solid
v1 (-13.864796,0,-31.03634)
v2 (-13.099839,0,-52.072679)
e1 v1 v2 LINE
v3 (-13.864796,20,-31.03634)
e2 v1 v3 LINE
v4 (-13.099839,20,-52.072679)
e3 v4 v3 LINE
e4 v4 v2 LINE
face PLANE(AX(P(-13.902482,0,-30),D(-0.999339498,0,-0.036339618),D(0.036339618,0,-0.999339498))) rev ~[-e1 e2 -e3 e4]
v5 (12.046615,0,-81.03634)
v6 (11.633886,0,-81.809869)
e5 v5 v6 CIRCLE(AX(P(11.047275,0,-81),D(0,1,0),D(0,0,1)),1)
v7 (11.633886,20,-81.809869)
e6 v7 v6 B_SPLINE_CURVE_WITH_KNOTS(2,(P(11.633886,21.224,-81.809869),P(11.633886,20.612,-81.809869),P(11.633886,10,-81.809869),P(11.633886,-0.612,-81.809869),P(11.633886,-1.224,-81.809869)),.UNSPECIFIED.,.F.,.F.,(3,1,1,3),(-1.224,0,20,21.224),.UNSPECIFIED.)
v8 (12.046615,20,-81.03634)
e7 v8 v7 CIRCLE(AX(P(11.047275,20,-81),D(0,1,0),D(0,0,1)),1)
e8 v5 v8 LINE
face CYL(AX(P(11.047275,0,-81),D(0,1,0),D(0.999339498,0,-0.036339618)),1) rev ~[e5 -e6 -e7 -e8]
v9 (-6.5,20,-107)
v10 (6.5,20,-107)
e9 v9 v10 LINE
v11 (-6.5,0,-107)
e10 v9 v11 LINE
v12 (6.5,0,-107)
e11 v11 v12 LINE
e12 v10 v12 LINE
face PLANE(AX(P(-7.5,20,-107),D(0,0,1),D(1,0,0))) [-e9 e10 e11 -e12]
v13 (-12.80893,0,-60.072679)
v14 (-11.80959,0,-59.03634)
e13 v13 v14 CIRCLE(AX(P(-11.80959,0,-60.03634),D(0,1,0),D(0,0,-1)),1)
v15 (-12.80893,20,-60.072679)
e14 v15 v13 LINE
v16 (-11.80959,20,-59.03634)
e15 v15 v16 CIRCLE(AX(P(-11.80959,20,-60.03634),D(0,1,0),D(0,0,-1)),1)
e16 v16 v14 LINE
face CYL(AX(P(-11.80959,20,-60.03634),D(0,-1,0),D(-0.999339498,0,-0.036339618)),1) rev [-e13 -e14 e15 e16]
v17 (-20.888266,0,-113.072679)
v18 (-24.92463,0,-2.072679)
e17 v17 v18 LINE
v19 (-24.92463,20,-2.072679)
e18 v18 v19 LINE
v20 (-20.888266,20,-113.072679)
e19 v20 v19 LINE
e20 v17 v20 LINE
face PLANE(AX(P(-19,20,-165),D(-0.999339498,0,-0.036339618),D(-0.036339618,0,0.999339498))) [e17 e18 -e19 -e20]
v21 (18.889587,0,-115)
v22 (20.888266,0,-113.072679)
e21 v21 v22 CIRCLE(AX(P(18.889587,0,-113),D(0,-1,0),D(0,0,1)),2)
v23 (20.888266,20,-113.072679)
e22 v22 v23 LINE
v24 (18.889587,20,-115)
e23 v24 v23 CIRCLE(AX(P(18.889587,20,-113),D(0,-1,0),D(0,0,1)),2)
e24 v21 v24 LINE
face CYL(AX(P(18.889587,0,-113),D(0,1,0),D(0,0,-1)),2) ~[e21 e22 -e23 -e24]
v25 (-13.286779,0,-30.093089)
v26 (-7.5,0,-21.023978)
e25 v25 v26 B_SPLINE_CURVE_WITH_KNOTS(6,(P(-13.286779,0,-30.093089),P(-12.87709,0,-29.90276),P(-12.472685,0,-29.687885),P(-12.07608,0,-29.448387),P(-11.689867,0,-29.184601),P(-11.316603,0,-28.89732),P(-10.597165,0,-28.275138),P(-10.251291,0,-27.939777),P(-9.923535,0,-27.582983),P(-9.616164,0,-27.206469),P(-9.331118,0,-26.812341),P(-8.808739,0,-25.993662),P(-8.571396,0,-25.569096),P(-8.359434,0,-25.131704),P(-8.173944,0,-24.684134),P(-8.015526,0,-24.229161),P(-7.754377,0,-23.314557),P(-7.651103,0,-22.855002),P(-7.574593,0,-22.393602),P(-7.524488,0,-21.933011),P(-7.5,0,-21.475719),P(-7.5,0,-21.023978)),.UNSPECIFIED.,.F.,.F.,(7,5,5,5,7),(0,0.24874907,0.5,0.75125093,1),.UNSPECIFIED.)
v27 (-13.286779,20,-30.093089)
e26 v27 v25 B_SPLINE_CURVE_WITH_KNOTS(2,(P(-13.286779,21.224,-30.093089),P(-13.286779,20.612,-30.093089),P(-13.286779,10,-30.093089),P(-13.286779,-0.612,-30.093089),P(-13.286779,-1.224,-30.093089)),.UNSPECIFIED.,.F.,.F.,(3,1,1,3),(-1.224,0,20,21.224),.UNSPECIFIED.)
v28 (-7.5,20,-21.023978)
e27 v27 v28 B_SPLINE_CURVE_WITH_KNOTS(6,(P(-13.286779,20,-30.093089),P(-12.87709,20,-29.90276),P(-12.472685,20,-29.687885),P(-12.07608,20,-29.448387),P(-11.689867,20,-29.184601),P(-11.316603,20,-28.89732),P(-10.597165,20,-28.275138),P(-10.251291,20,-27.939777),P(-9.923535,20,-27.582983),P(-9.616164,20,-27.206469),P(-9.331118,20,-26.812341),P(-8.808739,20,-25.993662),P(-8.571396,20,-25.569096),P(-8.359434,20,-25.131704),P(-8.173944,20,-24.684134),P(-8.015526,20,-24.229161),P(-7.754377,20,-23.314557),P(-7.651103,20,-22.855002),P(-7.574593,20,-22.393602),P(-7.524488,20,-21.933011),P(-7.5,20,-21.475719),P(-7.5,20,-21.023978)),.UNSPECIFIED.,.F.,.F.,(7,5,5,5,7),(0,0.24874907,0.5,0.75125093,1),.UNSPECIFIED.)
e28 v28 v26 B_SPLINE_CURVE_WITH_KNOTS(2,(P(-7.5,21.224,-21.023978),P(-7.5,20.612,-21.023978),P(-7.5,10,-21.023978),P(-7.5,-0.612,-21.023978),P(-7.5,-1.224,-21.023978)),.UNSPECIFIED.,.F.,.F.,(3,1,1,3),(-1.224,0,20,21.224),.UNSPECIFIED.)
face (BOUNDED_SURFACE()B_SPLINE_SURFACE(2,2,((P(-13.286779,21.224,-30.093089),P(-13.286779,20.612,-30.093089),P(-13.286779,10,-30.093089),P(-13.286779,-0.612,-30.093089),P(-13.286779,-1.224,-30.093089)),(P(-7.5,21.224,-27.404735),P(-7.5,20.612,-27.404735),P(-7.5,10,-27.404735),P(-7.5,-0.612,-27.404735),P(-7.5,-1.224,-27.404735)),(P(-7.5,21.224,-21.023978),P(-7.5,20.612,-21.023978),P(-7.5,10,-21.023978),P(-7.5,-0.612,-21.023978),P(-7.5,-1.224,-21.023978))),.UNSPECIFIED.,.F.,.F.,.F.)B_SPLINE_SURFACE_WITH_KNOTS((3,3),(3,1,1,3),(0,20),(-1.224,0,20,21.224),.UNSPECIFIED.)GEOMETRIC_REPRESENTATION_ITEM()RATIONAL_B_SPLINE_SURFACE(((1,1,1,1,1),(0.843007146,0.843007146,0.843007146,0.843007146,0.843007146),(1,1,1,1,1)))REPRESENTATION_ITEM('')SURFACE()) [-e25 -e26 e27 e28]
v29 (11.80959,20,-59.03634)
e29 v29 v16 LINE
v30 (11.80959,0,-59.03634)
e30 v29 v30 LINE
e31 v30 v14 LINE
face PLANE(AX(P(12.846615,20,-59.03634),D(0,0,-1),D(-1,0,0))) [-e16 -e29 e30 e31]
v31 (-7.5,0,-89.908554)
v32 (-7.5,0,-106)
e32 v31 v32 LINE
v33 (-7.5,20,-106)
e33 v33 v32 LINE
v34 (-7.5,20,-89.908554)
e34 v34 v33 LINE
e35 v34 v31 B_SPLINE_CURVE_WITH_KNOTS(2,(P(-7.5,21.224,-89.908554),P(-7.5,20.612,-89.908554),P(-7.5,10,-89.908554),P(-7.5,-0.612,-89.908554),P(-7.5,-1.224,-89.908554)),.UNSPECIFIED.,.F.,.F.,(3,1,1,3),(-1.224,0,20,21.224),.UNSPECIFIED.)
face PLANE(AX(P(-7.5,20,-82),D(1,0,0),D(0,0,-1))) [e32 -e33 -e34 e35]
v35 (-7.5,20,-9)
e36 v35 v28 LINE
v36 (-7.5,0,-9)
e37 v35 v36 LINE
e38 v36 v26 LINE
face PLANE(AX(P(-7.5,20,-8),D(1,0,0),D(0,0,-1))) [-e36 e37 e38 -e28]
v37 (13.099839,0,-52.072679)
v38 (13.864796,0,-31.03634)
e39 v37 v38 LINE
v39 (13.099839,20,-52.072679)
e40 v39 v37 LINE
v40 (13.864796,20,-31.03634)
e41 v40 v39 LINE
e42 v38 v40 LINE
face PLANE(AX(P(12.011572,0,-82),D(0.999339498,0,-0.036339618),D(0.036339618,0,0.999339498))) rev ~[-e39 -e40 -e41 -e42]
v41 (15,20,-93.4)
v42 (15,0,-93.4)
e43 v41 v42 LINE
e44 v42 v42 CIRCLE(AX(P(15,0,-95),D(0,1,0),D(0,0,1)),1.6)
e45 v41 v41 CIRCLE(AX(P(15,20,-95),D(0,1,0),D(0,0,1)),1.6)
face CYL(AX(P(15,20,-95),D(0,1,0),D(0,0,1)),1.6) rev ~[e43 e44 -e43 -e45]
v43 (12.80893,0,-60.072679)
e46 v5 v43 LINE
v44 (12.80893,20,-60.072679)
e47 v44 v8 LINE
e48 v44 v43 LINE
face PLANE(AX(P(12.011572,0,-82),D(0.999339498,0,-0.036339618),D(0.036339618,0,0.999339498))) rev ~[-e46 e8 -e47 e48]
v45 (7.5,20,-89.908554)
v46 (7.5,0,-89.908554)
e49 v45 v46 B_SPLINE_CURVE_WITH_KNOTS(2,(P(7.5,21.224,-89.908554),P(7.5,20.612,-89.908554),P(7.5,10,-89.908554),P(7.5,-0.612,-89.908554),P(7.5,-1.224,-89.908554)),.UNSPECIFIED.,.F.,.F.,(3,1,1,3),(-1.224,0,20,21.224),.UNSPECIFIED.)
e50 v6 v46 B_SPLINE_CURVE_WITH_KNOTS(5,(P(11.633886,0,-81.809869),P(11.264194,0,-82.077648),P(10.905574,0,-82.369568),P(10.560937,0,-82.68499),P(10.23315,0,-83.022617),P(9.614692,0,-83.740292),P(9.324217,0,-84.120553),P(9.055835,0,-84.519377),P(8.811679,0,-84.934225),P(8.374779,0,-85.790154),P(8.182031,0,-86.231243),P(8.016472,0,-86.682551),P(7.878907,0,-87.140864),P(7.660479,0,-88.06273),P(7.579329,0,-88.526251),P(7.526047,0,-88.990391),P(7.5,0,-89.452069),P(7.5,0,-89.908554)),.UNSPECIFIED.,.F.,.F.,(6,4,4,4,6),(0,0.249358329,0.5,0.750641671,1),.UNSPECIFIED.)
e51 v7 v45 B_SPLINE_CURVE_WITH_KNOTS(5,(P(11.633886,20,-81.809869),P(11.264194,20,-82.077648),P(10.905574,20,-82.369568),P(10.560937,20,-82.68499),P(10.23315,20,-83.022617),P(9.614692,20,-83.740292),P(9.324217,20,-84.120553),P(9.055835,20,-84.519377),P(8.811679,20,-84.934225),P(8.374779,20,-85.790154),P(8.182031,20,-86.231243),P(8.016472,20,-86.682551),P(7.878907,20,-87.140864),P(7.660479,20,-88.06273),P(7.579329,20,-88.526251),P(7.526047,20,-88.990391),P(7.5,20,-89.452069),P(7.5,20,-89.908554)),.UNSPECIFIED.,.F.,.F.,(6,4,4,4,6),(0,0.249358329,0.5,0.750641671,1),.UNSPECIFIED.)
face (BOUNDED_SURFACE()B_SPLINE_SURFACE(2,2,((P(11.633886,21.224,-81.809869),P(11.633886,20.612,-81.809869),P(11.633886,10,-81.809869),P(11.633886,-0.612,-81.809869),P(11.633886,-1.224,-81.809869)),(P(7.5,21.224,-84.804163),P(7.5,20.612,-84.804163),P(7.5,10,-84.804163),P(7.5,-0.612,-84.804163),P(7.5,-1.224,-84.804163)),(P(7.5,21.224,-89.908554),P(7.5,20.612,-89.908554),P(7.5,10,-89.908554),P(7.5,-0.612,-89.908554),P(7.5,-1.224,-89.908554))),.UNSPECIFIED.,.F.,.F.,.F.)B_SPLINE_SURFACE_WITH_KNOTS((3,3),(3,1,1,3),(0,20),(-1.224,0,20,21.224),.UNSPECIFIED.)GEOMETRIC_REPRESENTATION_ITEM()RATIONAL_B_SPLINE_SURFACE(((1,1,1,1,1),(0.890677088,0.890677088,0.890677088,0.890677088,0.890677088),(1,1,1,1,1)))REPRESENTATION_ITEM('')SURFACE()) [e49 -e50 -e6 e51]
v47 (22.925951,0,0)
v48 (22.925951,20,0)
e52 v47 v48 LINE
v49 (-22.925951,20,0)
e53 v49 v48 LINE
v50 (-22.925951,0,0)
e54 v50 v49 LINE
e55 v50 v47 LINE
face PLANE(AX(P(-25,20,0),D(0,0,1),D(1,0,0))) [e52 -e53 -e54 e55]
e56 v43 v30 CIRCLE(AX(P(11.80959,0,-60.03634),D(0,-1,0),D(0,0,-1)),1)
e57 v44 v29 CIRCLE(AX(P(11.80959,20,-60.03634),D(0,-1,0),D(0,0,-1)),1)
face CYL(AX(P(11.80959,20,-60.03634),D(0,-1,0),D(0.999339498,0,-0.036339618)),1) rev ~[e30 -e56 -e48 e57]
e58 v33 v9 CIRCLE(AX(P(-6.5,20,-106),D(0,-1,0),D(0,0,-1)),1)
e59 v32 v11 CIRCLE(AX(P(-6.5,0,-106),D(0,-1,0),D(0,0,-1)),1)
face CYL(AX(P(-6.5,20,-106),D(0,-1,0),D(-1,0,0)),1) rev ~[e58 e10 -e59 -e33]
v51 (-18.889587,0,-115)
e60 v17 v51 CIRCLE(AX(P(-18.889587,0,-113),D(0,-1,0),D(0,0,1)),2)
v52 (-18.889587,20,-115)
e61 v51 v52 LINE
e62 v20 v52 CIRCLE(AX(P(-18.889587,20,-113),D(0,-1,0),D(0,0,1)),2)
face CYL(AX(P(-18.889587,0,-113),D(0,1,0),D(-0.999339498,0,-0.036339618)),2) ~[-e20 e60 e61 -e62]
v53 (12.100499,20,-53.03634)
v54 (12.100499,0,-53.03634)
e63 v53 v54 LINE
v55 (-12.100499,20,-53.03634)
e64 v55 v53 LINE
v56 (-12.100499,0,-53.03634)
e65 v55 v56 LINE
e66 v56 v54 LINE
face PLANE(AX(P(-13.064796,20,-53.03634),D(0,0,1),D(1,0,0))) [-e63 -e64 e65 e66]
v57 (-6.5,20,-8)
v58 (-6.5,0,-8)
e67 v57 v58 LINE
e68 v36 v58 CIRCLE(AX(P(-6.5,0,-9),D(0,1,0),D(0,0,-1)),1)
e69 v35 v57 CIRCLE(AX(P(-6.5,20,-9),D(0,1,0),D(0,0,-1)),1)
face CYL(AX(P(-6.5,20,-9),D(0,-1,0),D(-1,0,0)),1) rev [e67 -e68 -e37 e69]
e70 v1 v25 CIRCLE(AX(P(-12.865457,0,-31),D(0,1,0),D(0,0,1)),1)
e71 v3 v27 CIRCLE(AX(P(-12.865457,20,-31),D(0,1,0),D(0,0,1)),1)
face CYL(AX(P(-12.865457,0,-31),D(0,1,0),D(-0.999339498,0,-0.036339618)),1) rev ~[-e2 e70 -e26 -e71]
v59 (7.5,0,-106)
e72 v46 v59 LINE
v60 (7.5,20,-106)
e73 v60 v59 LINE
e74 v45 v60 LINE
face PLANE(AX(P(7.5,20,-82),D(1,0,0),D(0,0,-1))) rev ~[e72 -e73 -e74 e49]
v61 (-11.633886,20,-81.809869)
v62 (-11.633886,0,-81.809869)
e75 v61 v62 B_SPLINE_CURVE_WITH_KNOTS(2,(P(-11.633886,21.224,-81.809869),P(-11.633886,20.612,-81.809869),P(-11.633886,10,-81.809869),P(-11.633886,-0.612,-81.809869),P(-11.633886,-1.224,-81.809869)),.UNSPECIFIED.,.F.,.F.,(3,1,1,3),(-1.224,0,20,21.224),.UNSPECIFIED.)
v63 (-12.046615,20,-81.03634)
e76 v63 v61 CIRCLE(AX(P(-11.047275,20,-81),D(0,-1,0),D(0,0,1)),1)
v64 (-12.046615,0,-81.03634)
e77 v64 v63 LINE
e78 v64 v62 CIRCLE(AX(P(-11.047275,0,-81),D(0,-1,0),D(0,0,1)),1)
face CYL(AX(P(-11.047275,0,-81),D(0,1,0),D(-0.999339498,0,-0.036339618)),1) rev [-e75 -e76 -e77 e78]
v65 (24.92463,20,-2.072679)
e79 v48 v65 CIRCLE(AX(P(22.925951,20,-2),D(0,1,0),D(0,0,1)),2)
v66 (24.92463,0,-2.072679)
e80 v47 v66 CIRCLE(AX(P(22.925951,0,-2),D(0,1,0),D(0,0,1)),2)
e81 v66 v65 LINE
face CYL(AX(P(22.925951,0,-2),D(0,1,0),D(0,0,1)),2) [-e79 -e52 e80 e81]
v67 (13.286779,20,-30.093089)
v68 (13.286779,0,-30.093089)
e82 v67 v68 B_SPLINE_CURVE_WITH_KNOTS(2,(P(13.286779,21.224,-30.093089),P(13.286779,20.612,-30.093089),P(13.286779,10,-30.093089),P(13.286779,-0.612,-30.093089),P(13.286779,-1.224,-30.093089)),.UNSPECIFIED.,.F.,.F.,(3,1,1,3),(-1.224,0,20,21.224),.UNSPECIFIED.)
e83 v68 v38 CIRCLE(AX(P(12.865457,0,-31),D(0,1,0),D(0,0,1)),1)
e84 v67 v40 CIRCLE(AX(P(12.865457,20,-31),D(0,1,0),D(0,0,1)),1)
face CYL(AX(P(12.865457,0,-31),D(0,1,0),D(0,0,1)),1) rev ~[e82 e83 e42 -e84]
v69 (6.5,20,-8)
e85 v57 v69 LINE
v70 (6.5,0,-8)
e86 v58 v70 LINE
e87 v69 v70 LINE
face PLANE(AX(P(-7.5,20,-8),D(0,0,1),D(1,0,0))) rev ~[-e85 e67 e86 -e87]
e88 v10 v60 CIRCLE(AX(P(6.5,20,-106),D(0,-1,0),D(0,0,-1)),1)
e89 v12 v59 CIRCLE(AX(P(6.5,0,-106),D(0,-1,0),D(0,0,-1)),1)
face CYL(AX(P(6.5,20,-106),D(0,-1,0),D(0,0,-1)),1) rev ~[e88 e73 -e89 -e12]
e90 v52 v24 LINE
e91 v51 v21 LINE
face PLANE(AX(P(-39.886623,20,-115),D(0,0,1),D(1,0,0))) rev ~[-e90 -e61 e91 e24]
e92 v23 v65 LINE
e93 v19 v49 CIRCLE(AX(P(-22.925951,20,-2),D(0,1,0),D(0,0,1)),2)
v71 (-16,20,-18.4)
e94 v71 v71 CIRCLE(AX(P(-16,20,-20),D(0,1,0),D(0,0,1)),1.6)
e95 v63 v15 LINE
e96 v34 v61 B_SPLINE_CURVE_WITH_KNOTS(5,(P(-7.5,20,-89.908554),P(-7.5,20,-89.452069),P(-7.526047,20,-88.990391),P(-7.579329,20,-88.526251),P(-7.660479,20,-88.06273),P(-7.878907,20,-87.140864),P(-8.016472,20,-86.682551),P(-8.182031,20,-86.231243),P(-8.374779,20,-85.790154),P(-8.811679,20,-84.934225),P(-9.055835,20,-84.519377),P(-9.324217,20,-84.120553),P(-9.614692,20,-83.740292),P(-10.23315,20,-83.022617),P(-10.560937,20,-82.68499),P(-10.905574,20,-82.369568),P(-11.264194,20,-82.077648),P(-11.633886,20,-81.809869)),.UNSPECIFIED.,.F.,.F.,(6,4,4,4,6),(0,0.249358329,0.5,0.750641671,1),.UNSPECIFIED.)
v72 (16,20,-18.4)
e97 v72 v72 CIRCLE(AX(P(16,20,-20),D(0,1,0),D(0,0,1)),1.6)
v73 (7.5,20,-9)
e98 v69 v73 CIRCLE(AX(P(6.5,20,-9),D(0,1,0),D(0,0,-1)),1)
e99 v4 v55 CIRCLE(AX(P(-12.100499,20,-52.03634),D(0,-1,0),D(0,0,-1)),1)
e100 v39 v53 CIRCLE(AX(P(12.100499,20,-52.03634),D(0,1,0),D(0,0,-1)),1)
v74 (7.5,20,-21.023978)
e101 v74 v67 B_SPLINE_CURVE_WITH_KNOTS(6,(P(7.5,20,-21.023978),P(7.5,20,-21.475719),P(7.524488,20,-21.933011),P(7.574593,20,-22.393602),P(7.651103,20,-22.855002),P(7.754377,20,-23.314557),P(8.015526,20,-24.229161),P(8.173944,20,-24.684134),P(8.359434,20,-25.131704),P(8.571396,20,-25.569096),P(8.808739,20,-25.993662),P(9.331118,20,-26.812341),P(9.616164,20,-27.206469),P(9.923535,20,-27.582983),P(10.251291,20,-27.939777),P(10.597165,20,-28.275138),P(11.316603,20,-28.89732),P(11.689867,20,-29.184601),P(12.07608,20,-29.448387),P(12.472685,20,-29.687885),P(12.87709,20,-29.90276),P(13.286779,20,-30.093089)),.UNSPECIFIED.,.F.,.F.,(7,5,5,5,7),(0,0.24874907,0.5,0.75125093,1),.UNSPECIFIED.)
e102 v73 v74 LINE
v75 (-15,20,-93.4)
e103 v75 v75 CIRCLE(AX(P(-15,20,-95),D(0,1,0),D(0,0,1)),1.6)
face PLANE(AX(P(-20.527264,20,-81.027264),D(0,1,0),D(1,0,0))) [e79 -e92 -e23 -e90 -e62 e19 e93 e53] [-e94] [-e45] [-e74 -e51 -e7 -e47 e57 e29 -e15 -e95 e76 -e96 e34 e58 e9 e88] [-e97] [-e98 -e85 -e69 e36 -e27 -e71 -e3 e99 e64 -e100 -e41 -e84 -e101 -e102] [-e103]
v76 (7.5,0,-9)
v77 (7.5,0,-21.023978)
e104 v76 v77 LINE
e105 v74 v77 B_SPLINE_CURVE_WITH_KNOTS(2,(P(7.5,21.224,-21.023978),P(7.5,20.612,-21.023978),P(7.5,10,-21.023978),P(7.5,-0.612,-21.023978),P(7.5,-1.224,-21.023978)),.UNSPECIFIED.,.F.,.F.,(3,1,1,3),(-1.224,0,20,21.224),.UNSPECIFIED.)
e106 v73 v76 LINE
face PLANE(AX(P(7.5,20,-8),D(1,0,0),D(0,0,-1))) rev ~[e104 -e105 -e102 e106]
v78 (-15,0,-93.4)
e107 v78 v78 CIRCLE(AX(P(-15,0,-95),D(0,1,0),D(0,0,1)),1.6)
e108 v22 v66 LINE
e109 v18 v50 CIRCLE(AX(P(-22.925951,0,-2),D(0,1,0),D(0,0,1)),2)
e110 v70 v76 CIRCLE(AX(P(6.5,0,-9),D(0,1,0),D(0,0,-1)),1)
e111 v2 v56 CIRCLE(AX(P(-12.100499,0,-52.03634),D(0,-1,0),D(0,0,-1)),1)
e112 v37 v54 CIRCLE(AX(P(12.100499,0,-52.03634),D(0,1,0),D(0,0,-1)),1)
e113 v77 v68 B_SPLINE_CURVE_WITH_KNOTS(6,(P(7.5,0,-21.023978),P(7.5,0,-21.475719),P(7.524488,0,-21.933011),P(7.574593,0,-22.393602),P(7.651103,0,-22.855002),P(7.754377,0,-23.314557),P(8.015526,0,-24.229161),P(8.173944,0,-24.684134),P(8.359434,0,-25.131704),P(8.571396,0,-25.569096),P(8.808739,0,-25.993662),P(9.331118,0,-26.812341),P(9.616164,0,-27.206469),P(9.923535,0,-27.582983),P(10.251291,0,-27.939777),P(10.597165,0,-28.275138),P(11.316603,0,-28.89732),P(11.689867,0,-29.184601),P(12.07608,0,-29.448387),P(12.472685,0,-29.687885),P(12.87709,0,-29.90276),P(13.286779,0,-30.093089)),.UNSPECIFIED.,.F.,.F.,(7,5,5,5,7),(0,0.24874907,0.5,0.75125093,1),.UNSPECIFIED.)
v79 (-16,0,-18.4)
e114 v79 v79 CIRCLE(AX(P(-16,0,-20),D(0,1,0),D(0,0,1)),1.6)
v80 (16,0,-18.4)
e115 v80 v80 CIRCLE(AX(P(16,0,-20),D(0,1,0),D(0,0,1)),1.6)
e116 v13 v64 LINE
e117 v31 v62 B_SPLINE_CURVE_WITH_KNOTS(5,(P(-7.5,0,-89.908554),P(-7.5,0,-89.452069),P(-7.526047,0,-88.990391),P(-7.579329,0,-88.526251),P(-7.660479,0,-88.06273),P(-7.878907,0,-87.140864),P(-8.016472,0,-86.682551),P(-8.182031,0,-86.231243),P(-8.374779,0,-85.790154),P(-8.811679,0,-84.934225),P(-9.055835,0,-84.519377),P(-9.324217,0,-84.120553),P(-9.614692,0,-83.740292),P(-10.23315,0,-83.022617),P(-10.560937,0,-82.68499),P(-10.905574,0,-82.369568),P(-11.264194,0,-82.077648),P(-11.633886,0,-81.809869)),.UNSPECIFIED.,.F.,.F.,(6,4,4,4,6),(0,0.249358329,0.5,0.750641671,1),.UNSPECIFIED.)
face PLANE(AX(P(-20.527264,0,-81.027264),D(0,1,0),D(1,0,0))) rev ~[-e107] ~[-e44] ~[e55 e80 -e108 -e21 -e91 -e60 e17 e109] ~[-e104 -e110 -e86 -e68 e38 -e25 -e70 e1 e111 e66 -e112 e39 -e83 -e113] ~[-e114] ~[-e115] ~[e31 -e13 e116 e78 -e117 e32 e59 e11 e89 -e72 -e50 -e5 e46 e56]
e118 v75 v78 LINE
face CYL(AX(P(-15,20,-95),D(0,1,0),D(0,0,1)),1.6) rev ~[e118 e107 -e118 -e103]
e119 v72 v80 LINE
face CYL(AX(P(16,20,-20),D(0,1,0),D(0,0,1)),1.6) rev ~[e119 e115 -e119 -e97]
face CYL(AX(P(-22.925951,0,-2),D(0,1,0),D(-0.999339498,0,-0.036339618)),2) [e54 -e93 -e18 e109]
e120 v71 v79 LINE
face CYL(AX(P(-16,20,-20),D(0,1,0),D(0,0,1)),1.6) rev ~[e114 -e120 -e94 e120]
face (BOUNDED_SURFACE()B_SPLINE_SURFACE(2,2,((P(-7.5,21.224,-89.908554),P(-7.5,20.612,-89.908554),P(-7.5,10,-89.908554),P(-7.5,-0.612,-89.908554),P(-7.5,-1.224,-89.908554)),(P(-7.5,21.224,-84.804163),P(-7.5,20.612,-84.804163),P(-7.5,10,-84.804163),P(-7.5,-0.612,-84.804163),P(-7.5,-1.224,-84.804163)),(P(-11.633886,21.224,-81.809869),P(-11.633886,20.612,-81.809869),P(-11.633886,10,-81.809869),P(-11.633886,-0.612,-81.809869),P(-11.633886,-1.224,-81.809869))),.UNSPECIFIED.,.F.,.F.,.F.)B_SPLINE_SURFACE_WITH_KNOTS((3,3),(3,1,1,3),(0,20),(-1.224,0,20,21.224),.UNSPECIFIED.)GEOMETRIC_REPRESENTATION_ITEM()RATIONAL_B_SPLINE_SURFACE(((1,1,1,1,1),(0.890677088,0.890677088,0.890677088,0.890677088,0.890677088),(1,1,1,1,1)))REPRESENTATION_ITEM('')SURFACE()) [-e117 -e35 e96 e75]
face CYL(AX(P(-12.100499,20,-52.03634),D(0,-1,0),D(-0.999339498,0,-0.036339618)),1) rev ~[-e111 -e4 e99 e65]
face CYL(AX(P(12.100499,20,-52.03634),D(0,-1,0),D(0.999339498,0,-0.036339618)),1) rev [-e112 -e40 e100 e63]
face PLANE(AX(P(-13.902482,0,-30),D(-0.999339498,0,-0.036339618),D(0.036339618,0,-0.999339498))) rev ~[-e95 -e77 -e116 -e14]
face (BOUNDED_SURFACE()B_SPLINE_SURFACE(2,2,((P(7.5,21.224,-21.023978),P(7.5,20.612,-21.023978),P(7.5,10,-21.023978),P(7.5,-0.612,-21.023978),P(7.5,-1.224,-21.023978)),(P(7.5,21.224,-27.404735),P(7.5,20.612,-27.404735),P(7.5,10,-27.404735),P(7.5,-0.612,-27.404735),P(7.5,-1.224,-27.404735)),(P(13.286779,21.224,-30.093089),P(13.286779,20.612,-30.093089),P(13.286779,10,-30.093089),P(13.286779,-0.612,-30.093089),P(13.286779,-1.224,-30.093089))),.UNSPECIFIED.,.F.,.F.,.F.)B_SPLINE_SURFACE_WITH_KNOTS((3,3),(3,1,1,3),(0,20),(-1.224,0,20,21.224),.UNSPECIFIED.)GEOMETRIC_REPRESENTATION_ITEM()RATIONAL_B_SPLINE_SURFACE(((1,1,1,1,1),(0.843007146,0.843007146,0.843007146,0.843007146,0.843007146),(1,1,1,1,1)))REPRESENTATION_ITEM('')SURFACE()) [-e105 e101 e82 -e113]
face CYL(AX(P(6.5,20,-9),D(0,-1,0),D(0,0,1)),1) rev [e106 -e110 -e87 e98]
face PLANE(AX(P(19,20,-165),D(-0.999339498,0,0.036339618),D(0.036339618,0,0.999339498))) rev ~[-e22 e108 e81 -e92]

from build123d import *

# Parameters (mm, degrees)
SKETCH_1_R          = 1.6
SKETCH_1_R_2        = 2.1
EXTRUDE_1_DEPTH     = 20
EXTRUDE_2_DEPTH     = 20
SKETCH_3_R          = 1.6
CUT_EXTRUDE_1_DEPTH = 169.07736314
SKETCH_4_R          = 1.6
CUT_EXTRUDE_2_DEPTH = 169.07736314
SKETCH_6_W          = 50
SKETCH_6_H          = 15
SKETCH_6_W_2        = 77.817383139
SKETCH_6_H_2        = 81.542414759
CUT_EXTRUDE_3_DEPTH = 169.07736314
FILLET_1_R          = 2
CUT_EXTRUDE_4_DEPTH = 120.357877938
FILLET_2_R          = 1
SKETCH_8_W          = 15
SKETCH_8_H          = 22
SKETCH_8_H_2        = 25
CUT_EXTRUDE_5_DEPTH = 120.357877938
FILLET_3_R          = 10
FILLET_4_R          = 1
SKETCH_9_W          = 25.911411074
SKETCH_9_H          = 3
EXTRUDE_3_DEPTH     = 20
FILLET_5_R          = 1


with BuildPart() as part:
    # 草图1 → 凸台-拉伸1 (new body)
    with BuildSketch(Plane(origin=(0, 0, 0), x_dir=(1, 0, 0), z_dir=(0, 1, 0))):
        Polygon((-25, 0), (-19, 0), (-19, 165), (19, 165), (19, 0), (25, 0), (25, -15), (-25, -15), align=None)
        with Locations(Location((0, -7.5, 0), (0, 0, 270))):
            Circle(SKETCH_1_R, mode=Mode.SUBTRACT)
        with Locations(Location((20, -7.5, 0), (0, 0, 270))):
            Circle(SKETCH_1_R, mode=Mode.SUBTRACT)
        with Locations(Location((-20, -7.5, 0), (0, 0, 270))):
            Circle(SKETCH_1_R, mode=Mode.SUBTRACT)
        with Locations(Location((-15, 156, 0), (0, 0, 270))):
            Circle(SKETCH_1_R_2, mode=Mode.SUBTRACT)
        with Locations(Location((15, 156, 0), (0, 0, 270))):
            Circle(SKETCH_1_R_2, mode=Mode.SUBTRACT)
    extrude(amount=EXTRUDE_1_DEPTH)

    # 草图2 → 凸台-拉伸2 (add)
    with BuildSketch(Plane(origin=(0, 20, 0), x_dir=(1, 0, 0), z_dir=(0, 1, 0))):
        Polygon((-19, 165), (-25, 0), (-19, 0), align=None)
        Polygon((19, 165), (25, 0), (19, 0), align=None)
    extrude(amount=-EXTRUDE_2_DEPTH)

    # 草图3 → 切除-拉伸1 (cut, through all)
    with BuildSketch(Plane(origin=(0, 20, 0), x_dir=(1, 0, 0), z_dir=(0, 1, 0))):
        with Locations(Location((16, 20, 0), (0, 0, 270))):
            Circle(SKETCH_3_R)
        with Locations(Location((-16, 20, 0), (0, 0, 270))):
            Circle(SKETCH_3_R)
    extrude(amount=-CUT_EXTRUDE_1_DEPTH, mode=Mode.SUBTRACT)

    # 草图4 → 切除-拉伸2 (cut, through all)
    with BuildSketch(Plane(origin=(0, 20, 0), x_dir=(1, 0, 0), z_dir=(0, 1, 0))):
        with Locations(Location((-15, 95, 0), (0, 0, 270))):
            Circle(SKETCH_4_R)
        with Locations(Location((15, 95, 0), (0, 0, 270))):
            Circle(SKETCH_4_R)
    extrude(amount=-CUT_EXTRUDE_2_DEPTH, mode=Mode.SUBTRACT)

    # 草图6 → 切除-拉伸3 (cut, through all)
    with BuildSketch(Plane(origin=(0, 20, 0), x_dir=(1, 0, 0), z_dir=(0, 1, 0))):
        with Locations((0, -7.5)):
            Rectangle(SKETCH_6_W, SKETCH_6_H)
        with Locations((-0.977931814, 155.77120738)):
            Rectangle(SKETCH_6_W_2, SKETCH_6_H_2)
    extrude(amount=-CUT_EXTRUDE_3_DEPTH, mode=Mode.SUBTRACT)

    # 圆角1
    fillet_1_edges = [part.edges().sort_by_distance(p)[0] for p in [
        (20.818181818, 10, -115),
        (25, 10, 0),
        (-25, 10, 0),
        (-20.818181818, 10, -115),
    ]]
    fillet(fillet_1_edges, radius=FILLET_1_R)

    # 草图7 → 切除-拉伸4 (cut, through all)
    with BuildSketch(Plane.XZ):
        Polygon((-13.902481523, -30), (-12.011572432, -82), (12.011572432, -82), (13.902481523, -30), align=None)
    extrude(amount=-CUT_EXTRUDE_4_DEPTH, mode=Mode.SUBTRACT)

    # 圆角2
    fillet_2_edges = [part.edges().sort_by_distance(p)[0] for p in [
        (-12.011572432, 10, -82),
        (-13.902481523, 10, -30),
        (13.902481523, 10, -30),
        (12.011572432, 10, -82),
    ]]
    fillet(fillet_2_edges, radius=FILLET_2_R)

    # 草图8 → 切除-拉伸5 (cut, through all)
    with BuildSketch(Plane(origin=(0, 20, 0), x_dir=(1, 0, 0), z_dir=(0, 1, 0))):
        with Locations((0, 19)):
            Rectangle(SKETCH_8_W, SKETCH_8_H)
        with Locations((0, 94.5)):
            Rectangle(SKETCH_8_W, SKETCH_8_H_2)
    extrude(amount=-CUT_EXTRUDE_5_DEPTH, mode=Mode.SUBTRACT)

    # 圆角3
    fillet_3_edges = [part.edges().sort_by_distance(p)[0] for p in [
        (7.5, 10, -82),
        (-7.5, 10, -82),
        (7.5, 10, -30),
        (-7.5, 10, -30),
    ]]
    fillet(fillet_3_edges, radius=FILLET_3_R)

    # 圆角4
    fillet_4_edges = [part.edges().sort_by_distance(p)[0] for p in [
        (7.5, 10, -8),
        (-7.5, 10, -8),
        (7.5, 10, -107),
        (-7.5, 10, -107),
    ]]
    fillet(fillet_4_edges, radius=FILLET_4_R)

    # 草图9 → 凸台-拉伸3 (add)
    with BuildSketch(Plane(origin=(0, 20, 0), x_dir=(1, 0, 0), z_dir=(0, 1, 0))):
        with Locations((0, 54.536339618)):
            Rectangle(SKETCH_9_W, SKETCH_9_H)
        Polygon((13.064796446, 53.036339618), (12.955705537, 56.036339618), (12.955705537, 53.036339618), align=None)
        Polygon((-12.846614628, 59.036339618), (-12.955705537, 56.036339618), (12.955705537, 56.036339618), (12.846614628, 59.036339618), align=None)
        Polygon((-12.955705537, 53.036339618), (-12.955705537, 56.036339618), (-13.064796446, 53.036339618), align=None)
    extrude(amount=-EXTRUDE_3_DEPTH)

    # 圆角5
    fillet_5_edges = [part.edges().sort_by_distance(p)[0] for p in [
        (-12.846614628, 10, -59.036339618),
        (-13.064796446, 10, -53.036339618),
        (13.064796446, 10, -53.036339618),
        (12.846614628, 10, -59.036339618),
    ]]
    fillet(fillet_5_edges, radius=FILLET_5_R)


solid = part.part
